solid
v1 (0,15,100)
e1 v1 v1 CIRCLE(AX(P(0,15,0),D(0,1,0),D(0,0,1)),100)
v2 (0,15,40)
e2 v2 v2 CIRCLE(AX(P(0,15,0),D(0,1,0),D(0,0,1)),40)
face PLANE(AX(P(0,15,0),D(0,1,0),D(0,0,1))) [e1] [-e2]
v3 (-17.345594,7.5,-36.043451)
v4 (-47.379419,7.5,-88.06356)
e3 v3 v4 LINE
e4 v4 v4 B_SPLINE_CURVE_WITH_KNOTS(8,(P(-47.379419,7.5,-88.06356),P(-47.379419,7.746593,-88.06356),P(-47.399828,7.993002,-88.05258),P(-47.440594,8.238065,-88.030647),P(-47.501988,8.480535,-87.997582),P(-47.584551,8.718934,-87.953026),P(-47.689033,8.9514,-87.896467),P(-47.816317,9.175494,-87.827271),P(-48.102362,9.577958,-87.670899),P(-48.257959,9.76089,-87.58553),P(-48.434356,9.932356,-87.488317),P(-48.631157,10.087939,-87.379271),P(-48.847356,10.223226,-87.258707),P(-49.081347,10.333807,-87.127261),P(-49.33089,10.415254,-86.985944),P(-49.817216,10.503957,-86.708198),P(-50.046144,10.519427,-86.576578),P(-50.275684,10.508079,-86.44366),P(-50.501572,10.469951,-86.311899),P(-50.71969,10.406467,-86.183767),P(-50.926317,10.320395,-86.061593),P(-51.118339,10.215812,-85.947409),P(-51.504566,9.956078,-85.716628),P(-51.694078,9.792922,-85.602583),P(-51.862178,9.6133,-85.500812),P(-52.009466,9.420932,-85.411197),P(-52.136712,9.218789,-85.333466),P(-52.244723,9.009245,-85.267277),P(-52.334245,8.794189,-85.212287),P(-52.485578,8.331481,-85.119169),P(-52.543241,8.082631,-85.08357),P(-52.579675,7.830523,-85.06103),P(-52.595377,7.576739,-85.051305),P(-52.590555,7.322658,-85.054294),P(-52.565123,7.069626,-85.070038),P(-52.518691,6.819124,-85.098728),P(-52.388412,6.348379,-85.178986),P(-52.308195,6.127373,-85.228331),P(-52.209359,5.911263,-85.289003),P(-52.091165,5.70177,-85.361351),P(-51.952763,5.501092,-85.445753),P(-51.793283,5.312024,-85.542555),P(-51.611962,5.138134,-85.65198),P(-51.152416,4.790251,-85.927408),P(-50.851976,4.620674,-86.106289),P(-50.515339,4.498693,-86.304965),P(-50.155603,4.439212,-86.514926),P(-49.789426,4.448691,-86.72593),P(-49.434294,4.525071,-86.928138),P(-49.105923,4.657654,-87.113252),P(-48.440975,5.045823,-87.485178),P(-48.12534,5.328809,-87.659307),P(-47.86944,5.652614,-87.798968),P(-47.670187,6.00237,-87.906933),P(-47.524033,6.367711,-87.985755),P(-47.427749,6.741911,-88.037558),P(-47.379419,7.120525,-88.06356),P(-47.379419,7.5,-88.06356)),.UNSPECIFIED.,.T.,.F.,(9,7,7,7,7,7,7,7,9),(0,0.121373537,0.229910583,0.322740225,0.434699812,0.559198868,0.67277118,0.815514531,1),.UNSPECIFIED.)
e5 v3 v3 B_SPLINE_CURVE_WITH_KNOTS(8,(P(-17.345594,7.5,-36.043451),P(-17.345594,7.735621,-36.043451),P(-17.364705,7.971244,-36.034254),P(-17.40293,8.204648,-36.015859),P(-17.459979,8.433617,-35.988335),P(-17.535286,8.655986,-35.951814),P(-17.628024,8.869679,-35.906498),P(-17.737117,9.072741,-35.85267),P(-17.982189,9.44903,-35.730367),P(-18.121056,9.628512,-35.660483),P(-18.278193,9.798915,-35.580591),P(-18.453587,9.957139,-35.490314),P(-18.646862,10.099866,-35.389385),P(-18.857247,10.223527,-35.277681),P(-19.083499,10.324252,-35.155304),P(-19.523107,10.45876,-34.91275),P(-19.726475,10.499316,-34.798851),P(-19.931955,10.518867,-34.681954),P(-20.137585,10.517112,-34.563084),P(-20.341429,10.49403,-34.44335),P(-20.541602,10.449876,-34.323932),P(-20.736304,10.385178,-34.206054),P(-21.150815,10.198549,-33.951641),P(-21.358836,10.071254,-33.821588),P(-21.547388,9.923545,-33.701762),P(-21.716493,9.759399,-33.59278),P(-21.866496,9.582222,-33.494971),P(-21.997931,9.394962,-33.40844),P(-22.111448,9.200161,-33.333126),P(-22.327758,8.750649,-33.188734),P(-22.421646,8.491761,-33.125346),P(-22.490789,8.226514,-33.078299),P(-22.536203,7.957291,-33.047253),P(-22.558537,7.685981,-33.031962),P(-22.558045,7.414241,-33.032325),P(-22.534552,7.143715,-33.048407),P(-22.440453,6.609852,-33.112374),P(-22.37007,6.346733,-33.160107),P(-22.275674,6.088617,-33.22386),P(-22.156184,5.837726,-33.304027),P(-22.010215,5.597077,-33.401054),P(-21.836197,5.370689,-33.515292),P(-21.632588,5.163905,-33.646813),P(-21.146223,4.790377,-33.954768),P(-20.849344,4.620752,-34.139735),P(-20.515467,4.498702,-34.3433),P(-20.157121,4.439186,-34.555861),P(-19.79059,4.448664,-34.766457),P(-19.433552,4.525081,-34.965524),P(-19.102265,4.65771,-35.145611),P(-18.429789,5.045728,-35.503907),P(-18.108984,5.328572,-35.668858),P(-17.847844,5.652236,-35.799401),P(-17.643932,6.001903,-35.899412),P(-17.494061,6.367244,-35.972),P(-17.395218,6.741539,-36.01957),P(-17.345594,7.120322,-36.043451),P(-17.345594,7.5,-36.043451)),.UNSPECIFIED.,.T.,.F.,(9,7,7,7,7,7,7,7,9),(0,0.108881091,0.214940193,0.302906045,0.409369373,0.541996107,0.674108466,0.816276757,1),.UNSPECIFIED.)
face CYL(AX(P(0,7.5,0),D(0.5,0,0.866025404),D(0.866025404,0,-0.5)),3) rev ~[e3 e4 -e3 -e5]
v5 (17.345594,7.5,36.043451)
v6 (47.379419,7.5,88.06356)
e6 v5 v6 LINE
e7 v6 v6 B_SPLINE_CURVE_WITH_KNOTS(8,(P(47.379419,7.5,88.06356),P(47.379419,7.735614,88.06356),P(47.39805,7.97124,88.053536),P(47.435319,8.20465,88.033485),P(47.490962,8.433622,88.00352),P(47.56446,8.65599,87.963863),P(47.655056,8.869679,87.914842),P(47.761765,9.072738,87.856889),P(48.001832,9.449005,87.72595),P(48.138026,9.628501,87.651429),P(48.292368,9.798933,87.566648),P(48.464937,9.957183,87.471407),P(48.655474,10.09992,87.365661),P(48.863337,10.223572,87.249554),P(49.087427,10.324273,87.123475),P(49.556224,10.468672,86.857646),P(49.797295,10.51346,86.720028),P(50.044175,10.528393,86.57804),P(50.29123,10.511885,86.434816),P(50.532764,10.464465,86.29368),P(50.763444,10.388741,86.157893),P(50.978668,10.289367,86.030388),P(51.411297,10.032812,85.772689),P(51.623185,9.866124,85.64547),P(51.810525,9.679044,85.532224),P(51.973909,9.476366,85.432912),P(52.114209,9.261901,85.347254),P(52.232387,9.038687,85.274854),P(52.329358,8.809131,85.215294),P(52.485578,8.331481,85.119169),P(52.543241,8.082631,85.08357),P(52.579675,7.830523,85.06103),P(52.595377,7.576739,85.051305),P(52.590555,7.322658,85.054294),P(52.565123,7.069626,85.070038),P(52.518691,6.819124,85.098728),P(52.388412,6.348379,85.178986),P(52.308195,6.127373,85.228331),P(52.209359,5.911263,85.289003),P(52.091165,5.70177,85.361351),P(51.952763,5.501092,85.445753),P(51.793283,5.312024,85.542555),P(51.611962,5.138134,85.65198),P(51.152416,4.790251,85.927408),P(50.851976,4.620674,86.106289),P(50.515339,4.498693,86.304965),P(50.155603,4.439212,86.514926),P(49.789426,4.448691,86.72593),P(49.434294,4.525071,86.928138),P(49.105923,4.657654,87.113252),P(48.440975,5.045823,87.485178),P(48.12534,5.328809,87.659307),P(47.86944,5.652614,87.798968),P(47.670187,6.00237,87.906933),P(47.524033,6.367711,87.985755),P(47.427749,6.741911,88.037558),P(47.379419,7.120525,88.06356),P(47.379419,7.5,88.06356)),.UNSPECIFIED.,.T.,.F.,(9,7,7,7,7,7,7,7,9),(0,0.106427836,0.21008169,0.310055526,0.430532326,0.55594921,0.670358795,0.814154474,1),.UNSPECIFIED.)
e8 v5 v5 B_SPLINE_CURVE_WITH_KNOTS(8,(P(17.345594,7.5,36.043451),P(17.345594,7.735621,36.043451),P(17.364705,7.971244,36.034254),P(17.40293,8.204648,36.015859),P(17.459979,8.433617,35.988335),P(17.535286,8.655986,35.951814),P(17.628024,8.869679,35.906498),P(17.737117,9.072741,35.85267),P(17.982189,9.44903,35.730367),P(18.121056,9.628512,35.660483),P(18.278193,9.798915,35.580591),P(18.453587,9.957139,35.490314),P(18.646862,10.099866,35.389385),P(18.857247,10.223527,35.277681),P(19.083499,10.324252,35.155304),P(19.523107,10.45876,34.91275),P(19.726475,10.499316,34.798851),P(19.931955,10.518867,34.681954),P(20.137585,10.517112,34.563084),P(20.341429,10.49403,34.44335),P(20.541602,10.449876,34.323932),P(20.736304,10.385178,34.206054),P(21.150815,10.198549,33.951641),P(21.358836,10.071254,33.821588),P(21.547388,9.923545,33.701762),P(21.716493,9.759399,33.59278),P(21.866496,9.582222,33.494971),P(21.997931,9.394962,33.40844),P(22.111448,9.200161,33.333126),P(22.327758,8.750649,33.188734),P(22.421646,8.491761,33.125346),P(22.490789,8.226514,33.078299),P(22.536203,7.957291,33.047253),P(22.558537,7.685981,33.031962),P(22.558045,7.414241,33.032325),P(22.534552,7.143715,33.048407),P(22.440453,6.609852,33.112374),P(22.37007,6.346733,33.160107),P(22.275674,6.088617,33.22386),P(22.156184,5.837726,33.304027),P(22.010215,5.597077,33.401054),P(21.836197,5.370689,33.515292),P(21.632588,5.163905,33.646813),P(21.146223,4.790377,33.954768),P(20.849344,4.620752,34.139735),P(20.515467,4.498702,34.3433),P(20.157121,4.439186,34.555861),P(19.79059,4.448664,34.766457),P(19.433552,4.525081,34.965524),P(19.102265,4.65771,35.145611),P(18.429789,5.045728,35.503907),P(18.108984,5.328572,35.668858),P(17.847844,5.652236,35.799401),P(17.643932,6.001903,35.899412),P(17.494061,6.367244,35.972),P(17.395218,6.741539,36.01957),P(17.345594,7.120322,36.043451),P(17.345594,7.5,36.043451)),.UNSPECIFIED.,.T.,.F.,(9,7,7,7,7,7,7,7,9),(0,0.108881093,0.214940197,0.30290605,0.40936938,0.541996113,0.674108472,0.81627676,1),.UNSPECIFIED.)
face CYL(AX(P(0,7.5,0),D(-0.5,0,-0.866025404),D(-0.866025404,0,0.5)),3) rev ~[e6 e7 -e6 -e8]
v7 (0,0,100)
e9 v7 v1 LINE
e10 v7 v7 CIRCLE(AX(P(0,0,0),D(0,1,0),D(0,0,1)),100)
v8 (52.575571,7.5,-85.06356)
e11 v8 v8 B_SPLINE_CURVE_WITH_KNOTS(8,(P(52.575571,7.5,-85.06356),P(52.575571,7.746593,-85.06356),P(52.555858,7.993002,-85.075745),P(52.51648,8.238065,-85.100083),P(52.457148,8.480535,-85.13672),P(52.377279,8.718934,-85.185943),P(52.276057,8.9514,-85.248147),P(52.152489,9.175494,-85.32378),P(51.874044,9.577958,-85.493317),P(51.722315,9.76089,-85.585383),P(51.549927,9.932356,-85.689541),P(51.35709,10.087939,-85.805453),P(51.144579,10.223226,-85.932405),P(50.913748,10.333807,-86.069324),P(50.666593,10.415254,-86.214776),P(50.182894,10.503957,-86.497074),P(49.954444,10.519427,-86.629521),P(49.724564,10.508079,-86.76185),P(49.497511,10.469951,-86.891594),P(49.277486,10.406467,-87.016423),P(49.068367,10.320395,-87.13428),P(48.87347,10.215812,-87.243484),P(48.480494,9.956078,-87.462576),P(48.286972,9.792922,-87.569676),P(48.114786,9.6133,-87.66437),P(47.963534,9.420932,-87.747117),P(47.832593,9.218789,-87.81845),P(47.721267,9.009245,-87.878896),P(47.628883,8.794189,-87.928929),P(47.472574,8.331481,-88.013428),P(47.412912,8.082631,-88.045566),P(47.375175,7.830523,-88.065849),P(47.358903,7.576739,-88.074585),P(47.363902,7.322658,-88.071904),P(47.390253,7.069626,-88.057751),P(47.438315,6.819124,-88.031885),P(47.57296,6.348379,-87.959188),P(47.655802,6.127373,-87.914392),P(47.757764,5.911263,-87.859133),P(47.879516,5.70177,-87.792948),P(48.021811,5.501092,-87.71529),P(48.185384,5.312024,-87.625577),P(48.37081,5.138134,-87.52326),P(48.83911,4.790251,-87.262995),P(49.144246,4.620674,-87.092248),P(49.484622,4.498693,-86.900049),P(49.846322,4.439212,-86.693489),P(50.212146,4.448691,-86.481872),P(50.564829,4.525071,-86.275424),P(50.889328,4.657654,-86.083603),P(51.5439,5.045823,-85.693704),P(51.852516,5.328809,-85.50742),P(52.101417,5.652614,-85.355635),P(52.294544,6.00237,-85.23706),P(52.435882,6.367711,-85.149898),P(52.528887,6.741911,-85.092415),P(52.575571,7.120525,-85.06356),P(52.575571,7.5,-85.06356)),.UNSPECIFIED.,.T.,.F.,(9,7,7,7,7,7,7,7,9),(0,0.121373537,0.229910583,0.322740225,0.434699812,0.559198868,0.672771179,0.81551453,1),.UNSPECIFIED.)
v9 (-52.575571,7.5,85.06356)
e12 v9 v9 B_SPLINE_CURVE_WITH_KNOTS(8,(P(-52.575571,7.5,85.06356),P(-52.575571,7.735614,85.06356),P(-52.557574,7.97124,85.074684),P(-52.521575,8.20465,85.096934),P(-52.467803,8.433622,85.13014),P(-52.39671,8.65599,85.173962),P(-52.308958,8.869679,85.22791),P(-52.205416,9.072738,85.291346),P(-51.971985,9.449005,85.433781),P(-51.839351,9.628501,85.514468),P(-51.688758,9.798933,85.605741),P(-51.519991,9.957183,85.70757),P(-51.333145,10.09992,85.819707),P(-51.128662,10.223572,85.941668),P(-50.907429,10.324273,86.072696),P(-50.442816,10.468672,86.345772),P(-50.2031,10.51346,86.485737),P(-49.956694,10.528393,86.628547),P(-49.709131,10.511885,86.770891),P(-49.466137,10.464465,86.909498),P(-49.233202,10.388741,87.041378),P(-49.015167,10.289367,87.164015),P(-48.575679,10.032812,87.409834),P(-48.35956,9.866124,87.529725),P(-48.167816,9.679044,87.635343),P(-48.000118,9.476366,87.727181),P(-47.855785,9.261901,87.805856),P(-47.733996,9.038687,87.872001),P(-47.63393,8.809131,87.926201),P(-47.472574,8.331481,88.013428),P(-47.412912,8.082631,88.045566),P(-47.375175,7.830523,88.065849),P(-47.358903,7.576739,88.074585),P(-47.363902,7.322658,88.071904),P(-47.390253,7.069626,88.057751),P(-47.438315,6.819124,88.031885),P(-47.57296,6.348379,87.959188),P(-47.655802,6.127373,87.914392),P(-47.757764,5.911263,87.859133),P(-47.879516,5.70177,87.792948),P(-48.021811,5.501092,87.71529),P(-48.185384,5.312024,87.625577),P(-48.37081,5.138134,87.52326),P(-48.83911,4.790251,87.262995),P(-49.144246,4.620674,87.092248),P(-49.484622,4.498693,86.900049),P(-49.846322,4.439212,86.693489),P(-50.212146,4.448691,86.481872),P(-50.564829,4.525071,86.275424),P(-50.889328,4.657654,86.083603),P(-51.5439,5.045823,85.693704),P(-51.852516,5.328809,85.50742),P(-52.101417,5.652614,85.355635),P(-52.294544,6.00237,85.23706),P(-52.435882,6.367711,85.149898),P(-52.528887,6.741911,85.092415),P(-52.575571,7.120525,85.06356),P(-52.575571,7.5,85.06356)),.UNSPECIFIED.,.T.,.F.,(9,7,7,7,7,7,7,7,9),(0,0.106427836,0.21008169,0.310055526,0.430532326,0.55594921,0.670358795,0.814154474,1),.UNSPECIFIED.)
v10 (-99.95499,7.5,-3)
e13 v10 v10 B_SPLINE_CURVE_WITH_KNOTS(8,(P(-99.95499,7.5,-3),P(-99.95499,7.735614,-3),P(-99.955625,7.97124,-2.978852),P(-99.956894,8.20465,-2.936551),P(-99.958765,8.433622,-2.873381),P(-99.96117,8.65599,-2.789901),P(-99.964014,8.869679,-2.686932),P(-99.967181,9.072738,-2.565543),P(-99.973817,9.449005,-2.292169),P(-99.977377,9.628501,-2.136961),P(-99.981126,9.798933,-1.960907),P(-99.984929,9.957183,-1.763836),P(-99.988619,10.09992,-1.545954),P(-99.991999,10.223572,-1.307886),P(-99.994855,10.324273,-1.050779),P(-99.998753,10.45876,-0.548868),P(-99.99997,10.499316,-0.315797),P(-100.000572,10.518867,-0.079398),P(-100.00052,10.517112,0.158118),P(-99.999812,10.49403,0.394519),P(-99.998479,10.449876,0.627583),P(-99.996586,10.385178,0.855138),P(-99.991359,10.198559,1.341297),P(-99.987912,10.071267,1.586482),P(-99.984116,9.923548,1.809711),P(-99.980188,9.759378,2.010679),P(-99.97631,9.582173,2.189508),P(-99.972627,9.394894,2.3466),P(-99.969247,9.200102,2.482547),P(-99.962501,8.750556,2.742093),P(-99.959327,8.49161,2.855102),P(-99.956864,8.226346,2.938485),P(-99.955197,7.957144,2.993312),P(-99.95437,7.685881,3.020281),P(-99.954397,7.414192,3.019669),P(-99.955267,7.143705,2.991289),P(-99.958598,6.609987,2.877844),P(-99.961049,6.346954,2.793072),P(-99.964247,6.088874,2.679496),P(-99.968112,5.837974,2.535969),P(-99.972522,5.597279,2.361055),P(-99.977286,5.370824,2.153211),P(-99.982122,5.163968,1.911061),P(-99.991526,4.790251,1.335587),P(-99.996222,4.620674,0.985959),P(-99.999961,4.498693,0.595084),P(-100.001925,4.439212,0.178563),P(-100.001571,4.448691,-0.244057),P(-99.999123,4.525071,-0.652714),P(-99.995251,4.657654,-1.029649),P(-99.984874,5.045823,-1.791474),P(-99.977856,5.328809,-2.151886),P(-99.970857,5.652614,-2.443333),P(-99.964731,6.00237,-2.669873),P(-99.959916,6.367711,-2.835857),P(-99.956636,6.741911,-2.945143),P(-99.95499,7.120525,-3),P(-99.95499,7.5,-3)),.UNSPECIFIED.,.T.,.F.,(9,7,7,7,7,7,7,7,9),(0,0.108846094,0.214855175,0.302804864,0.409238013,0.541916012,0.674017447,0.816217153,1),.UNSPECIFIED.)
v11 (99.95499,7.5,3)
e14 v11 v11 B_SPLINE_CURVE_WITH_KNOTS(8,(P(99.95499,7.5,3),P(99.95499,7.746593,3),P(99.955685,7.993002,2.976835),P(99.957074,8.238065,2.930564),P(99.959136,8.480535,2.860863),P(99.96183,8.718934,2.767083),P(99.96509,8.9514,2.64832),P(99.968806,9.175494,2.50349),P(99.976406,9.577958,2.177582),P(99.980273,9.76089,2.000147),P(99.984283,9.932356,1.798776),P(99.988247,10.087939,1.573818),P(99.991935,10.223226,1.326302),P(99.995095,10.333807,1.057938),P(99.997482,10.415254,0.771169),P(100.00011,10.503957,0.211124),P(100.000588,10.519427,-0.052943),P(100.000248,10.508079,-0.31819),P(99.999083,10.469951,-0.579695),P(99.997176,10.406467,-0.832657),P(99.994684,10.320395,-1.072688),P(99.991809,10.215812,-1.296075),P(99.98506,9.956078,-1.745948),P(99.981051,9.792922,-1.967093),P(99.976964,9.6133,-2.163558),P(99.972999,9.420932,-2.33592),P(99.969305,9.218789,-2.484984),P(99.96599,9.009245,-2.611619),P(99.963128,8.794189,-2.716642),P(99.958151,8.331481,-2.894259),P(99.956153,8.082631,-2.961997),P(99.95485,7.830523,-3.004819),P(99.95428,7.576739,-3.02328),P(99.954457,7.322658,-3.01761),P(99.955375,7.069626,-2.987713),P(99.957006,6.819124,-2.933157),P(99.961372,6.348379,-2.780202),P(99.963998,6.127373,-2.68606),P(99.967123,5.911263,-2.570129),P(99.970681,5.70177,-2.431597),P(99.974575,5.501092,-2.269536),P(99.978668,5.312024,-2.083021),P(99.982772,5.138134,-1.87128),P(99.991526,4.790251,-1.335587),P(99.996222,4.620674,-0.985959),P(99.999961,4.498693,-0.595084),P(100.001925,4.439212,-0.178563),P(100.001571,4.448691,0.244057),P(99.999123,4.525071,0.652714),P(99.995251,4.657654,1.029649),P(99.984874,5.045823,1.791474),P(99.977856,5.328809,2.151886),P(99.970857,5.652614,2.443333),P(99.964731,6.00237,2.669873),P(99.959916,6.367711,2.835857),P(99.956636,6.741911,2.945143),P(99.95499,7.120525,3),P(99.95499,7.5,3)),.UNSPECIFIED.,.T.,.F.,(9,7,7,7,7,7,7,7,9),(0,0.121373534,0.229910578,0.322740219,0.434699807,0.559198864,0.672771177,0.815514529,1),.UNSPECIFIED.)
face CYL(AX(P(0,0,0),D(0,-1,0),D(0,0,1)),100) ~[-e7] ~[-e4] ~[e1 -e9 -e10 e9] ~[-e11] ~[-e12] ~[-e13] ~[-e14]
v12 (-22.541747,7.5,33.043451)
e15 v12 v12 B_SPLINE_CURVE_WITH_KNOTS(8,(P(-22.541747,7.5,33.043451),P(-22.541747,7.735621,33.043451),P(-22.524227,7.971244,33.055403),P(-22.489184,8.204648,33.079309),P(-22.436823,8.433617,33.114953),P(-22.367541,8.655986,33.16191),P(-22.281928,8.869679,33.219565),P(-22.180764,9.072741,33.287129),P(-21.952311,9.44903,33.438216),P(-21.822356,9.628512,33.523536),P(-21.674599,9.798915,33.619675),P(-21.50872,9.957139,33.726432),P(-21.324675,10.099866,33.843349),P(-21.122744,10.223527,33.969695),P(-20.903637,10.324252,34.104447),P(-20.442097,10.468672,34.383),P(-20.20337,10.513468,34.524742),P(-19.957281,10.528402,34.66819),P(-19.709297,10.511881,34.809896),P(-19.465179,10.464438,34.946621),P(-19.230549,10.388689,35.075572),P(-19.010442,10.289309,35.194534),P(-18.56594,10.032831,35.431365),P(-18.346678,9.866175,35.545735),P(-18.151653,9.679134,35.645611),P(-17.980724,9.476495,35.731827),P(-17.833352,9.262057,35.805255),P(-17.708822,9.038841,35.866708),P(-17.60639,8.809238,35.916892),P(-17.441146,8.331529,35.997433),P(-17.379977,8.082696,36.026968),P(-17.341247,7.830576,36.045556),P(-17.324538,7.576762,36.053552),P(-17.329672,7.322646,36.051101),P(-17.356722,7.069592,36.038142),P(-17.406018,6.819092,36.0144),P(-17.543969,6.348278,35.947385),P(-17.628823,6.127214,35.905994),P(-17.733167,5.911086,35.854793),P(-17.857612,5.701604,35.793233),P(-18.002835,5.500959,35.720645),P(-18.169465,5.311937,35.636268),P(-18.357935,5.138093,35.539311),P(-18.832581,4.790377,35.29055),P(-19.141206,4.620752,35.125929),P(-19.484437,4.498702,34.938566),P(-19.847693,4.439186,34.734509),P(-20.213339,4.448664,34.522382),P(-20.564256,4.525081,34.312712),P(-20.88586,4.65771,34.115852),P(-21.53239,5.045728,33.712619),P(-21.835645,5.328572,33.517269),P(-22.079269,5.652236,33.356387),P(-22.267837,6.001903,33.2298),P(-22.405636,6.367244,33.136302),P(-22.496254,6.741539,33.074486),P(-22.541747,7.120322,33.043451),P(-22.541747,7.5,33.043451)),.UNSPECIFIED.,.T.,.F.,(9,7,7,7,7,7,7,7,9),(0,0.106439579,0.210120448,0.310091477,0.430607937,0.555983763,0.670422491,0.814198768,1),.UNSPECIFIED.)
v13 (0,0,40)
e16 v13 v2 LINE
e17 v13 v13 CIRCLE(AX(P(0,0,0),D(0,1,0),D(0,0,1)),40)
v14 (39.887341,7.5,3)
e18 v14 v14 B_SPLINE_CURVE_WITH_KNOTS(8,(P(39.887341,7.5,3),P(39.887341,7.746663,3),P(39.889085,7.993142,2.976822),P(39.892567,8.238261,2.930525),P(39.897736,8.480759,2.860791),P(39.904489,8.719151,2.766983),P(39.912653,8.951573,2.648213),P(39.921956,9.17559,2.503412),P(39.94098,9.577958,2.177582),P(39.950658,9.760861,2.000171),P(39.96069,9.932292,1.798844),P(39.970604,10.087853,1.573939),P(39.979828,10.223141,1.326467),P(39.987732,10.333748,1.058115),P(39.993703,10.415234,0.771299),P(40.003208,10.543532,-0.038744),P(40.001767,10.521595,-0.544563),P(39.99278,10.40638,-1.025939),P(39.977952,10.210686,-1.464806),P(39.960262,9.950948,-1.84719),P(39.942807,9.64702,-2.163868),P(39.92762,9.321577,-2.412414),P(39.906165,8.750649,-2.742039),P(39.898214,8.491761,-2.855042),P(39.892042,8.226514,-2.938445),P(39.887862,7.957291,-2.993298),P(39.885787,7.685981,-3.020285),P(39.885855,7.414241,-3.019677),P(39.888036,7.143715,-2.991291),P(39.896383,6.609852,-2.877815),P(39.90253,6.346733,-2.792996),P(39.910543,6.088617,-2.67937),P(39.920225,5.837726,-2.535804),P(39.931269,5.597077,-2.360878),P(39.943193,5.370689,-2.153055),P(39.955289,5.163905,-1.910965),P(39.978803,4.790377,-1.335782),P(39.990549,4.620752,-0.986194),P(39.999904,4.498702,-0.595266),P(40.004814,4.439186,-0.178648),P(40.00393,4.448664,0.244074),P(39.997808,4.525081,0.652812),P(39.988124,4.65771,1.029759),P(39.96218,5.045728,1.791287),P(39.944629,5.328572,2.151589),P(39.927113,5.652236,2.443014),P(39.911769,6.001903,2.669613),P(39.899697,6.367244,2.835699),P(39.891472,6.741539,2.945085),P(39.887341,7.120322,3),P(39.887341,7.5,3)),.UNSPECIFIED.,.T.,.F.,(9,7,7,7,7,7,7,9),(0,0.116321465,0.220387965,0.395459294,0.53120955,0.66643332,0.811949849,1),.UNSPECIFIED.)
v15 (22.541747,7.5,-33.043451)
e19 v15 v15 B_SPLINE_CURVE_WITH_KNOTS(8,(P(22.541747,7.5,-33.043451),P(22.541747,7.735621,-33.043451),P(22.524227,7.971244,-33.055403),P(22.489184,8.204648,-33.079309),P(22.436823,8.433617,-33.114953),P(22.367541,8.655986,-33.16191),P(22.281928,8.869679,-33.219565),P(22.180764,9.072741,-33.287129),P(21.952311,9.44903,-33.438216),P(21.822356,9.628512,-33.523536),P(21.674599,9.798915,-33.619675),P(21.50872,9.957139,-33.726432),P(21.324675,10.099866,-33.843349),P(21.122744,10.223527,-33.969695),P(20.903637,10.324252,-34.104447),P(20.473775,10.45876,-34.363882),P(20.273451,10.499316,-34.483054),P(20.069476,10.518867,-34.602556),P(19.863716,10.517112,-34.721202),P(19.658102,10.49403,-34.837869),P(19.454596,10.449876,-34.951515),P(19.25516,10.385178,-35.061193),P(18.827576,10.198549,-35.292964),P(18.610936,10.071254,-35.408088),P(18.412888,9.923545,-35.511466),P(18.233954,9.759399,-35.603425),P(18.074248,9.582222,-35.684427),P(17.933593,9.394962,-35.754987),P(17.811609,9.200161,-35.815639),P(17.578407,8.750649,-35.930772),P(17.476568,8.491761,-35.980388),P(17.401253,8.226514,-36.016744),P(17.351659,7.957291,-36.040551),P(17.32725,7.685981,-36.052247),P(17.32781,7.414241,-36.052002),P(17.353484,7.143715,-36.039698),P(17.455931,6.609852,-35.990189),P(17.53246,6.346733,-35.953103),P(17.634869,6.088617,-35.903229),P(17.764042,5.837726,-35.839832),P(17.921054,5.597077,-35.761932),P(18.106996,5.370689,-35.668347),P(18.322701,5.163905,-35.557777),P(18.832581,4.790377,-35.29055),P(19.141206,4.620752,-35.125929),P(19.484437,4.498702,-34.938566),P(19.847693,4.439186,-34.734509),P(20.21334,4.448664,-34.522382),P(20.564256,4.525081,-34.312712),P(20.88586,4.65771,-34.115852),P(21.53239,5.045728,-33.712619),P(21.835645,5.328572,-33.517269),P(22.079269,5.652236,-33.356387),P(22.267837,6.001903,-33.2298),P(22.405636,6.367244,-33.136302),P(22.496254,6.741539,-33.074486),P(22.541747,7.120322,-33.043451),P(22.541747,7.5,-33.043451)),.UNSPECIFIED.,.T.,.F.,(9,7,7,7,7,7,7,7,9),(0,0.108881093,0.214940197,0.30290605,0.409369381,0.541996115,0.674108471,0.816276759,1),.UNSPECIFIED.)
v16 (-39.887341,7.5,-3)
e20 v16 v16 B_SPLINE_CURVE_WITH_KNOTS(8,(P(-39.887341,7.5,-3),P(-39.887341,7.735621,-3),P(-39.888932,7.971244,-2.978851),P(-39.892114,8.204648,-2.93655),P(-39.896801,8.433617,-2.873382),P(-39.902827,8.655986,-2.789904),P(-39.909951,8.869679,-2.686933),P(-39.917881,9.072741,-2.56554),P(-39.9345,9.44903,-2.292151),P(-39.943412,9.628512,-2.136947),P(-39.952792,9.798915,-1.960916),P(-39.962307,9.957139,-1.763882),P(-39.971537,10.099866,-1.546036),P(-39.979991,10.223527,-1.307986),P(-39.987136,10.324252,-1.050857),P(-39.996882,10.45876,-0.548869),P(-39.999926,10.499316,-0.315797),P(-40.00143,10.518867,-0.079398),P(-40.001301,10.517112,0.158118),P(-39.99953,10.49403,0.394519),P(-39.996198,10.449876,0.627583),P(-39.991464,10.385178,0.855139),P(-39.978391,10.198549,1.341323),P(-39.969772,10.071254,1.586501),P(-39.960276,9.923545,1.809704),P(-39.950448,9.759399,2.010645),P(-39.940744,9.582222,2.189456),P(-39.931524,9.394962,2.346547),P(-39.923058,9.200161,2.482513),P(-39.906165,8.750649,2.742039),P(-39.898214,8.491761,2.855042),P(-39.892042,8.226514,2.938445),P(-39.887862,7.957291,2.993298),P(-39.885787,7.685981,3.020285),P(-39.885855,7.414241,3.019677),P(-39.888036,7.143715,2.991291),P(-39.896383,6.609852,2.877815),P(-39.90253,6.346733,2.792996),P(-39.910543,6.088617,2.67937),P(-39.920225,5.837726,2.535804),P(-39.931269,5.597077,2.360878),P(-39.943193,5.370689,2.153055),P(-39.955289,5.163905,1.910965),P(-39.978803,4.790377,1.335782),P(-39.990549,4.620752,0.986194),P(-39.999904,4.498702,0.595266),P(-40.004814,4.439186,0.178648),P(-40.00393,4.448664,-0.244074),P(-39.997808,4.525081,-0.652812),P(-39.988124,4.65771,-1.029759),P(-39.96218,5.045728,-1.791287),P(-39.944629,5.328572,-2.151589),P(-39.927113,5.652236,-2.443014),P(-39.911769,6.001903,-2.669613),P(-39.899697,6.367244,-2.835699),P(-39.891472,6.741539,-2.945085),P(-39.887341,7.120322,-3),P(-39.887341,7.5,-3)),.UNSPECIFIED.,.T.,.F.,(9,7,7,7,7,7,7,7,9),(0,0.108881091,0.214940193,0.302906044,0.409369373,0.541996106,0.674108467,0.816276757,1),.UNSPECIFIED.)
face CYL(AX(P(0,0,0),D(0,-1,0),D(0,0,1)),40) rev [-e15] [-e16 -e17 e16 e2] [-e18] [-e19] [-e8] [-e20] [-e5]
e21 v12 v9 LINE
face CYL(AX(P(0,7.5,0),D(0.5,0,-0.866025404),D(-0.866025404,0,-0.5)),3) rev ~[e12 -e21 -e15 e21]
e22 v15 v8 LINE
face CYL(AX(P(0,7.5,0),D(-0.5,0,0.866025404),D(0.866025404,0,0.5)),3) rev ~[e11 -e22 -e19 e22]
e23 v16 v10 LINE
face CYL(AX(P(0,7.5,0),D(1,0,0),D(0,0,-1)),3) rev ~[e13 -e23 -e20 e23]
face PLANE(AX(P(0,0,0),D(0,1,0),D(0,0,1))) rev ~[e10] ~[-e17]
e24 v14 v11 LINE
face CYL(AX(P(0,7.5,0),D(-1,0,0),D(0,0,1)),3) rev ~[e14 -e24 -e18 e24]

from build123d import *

# Parameters (mm, degrees)
SKETCH1_R           = 100
SKETCH1_R_2         = 40
BOSS_EXTRUDE1_DEPTH = 15
SKETCH2_R           = 3
CUT_EXTRUDE1_DEPTH  = 143.214626533
CIRPATTERN1_COUNT   = 6


with BuildPart() as part:
    # Sketch1 → Boss-Extrude1 (new body)
    with BuildSketch(Plane(origin=(0, 0, 0), x_dir=(1, 0, 0), z_dir=(0, 1, 0))):
        with Locations(Location((0, 0, 0), (0, 0, 270))):
            Circle(SKETCH1_R)
        with Locations(Location((0, 0, 0), (0, 0, 270))):
            Circle(SKETCH1_R_2, mode=Mode.SUBTRACT)
    extrude(amount=BOSS_EXTRUDE1_DEPTH)

    # Sketch2 → Cut-Extrude1 (cut, through all)
    with BuildSketch(Plane(origin=(0, 0, 0), x_dir=(0, 0, -1), z_dir=(1, 0, 0))):
        with Locations((0, 7.5)):
            Circle(SKETCH2_R)
    cut_extrude1 = extrude(amount=-CUT_EXTRUDE1_DEPTH, mode=Mode.SUBTRACT)

    # CirPattern1: Cut-Extrude1 ×6 about axis
    cirpattern1_axis = Axis((0, 15, 0), (0, 1, 0))
    for i in range(1, CIRPATTERN1_COUNT):
        add(cut_extrude1.rotate(cirpattern1_axis, i * 360 / CIRPATTERN1_COUNT), mode=Mode.SUBTRACT)


solid = part.part
